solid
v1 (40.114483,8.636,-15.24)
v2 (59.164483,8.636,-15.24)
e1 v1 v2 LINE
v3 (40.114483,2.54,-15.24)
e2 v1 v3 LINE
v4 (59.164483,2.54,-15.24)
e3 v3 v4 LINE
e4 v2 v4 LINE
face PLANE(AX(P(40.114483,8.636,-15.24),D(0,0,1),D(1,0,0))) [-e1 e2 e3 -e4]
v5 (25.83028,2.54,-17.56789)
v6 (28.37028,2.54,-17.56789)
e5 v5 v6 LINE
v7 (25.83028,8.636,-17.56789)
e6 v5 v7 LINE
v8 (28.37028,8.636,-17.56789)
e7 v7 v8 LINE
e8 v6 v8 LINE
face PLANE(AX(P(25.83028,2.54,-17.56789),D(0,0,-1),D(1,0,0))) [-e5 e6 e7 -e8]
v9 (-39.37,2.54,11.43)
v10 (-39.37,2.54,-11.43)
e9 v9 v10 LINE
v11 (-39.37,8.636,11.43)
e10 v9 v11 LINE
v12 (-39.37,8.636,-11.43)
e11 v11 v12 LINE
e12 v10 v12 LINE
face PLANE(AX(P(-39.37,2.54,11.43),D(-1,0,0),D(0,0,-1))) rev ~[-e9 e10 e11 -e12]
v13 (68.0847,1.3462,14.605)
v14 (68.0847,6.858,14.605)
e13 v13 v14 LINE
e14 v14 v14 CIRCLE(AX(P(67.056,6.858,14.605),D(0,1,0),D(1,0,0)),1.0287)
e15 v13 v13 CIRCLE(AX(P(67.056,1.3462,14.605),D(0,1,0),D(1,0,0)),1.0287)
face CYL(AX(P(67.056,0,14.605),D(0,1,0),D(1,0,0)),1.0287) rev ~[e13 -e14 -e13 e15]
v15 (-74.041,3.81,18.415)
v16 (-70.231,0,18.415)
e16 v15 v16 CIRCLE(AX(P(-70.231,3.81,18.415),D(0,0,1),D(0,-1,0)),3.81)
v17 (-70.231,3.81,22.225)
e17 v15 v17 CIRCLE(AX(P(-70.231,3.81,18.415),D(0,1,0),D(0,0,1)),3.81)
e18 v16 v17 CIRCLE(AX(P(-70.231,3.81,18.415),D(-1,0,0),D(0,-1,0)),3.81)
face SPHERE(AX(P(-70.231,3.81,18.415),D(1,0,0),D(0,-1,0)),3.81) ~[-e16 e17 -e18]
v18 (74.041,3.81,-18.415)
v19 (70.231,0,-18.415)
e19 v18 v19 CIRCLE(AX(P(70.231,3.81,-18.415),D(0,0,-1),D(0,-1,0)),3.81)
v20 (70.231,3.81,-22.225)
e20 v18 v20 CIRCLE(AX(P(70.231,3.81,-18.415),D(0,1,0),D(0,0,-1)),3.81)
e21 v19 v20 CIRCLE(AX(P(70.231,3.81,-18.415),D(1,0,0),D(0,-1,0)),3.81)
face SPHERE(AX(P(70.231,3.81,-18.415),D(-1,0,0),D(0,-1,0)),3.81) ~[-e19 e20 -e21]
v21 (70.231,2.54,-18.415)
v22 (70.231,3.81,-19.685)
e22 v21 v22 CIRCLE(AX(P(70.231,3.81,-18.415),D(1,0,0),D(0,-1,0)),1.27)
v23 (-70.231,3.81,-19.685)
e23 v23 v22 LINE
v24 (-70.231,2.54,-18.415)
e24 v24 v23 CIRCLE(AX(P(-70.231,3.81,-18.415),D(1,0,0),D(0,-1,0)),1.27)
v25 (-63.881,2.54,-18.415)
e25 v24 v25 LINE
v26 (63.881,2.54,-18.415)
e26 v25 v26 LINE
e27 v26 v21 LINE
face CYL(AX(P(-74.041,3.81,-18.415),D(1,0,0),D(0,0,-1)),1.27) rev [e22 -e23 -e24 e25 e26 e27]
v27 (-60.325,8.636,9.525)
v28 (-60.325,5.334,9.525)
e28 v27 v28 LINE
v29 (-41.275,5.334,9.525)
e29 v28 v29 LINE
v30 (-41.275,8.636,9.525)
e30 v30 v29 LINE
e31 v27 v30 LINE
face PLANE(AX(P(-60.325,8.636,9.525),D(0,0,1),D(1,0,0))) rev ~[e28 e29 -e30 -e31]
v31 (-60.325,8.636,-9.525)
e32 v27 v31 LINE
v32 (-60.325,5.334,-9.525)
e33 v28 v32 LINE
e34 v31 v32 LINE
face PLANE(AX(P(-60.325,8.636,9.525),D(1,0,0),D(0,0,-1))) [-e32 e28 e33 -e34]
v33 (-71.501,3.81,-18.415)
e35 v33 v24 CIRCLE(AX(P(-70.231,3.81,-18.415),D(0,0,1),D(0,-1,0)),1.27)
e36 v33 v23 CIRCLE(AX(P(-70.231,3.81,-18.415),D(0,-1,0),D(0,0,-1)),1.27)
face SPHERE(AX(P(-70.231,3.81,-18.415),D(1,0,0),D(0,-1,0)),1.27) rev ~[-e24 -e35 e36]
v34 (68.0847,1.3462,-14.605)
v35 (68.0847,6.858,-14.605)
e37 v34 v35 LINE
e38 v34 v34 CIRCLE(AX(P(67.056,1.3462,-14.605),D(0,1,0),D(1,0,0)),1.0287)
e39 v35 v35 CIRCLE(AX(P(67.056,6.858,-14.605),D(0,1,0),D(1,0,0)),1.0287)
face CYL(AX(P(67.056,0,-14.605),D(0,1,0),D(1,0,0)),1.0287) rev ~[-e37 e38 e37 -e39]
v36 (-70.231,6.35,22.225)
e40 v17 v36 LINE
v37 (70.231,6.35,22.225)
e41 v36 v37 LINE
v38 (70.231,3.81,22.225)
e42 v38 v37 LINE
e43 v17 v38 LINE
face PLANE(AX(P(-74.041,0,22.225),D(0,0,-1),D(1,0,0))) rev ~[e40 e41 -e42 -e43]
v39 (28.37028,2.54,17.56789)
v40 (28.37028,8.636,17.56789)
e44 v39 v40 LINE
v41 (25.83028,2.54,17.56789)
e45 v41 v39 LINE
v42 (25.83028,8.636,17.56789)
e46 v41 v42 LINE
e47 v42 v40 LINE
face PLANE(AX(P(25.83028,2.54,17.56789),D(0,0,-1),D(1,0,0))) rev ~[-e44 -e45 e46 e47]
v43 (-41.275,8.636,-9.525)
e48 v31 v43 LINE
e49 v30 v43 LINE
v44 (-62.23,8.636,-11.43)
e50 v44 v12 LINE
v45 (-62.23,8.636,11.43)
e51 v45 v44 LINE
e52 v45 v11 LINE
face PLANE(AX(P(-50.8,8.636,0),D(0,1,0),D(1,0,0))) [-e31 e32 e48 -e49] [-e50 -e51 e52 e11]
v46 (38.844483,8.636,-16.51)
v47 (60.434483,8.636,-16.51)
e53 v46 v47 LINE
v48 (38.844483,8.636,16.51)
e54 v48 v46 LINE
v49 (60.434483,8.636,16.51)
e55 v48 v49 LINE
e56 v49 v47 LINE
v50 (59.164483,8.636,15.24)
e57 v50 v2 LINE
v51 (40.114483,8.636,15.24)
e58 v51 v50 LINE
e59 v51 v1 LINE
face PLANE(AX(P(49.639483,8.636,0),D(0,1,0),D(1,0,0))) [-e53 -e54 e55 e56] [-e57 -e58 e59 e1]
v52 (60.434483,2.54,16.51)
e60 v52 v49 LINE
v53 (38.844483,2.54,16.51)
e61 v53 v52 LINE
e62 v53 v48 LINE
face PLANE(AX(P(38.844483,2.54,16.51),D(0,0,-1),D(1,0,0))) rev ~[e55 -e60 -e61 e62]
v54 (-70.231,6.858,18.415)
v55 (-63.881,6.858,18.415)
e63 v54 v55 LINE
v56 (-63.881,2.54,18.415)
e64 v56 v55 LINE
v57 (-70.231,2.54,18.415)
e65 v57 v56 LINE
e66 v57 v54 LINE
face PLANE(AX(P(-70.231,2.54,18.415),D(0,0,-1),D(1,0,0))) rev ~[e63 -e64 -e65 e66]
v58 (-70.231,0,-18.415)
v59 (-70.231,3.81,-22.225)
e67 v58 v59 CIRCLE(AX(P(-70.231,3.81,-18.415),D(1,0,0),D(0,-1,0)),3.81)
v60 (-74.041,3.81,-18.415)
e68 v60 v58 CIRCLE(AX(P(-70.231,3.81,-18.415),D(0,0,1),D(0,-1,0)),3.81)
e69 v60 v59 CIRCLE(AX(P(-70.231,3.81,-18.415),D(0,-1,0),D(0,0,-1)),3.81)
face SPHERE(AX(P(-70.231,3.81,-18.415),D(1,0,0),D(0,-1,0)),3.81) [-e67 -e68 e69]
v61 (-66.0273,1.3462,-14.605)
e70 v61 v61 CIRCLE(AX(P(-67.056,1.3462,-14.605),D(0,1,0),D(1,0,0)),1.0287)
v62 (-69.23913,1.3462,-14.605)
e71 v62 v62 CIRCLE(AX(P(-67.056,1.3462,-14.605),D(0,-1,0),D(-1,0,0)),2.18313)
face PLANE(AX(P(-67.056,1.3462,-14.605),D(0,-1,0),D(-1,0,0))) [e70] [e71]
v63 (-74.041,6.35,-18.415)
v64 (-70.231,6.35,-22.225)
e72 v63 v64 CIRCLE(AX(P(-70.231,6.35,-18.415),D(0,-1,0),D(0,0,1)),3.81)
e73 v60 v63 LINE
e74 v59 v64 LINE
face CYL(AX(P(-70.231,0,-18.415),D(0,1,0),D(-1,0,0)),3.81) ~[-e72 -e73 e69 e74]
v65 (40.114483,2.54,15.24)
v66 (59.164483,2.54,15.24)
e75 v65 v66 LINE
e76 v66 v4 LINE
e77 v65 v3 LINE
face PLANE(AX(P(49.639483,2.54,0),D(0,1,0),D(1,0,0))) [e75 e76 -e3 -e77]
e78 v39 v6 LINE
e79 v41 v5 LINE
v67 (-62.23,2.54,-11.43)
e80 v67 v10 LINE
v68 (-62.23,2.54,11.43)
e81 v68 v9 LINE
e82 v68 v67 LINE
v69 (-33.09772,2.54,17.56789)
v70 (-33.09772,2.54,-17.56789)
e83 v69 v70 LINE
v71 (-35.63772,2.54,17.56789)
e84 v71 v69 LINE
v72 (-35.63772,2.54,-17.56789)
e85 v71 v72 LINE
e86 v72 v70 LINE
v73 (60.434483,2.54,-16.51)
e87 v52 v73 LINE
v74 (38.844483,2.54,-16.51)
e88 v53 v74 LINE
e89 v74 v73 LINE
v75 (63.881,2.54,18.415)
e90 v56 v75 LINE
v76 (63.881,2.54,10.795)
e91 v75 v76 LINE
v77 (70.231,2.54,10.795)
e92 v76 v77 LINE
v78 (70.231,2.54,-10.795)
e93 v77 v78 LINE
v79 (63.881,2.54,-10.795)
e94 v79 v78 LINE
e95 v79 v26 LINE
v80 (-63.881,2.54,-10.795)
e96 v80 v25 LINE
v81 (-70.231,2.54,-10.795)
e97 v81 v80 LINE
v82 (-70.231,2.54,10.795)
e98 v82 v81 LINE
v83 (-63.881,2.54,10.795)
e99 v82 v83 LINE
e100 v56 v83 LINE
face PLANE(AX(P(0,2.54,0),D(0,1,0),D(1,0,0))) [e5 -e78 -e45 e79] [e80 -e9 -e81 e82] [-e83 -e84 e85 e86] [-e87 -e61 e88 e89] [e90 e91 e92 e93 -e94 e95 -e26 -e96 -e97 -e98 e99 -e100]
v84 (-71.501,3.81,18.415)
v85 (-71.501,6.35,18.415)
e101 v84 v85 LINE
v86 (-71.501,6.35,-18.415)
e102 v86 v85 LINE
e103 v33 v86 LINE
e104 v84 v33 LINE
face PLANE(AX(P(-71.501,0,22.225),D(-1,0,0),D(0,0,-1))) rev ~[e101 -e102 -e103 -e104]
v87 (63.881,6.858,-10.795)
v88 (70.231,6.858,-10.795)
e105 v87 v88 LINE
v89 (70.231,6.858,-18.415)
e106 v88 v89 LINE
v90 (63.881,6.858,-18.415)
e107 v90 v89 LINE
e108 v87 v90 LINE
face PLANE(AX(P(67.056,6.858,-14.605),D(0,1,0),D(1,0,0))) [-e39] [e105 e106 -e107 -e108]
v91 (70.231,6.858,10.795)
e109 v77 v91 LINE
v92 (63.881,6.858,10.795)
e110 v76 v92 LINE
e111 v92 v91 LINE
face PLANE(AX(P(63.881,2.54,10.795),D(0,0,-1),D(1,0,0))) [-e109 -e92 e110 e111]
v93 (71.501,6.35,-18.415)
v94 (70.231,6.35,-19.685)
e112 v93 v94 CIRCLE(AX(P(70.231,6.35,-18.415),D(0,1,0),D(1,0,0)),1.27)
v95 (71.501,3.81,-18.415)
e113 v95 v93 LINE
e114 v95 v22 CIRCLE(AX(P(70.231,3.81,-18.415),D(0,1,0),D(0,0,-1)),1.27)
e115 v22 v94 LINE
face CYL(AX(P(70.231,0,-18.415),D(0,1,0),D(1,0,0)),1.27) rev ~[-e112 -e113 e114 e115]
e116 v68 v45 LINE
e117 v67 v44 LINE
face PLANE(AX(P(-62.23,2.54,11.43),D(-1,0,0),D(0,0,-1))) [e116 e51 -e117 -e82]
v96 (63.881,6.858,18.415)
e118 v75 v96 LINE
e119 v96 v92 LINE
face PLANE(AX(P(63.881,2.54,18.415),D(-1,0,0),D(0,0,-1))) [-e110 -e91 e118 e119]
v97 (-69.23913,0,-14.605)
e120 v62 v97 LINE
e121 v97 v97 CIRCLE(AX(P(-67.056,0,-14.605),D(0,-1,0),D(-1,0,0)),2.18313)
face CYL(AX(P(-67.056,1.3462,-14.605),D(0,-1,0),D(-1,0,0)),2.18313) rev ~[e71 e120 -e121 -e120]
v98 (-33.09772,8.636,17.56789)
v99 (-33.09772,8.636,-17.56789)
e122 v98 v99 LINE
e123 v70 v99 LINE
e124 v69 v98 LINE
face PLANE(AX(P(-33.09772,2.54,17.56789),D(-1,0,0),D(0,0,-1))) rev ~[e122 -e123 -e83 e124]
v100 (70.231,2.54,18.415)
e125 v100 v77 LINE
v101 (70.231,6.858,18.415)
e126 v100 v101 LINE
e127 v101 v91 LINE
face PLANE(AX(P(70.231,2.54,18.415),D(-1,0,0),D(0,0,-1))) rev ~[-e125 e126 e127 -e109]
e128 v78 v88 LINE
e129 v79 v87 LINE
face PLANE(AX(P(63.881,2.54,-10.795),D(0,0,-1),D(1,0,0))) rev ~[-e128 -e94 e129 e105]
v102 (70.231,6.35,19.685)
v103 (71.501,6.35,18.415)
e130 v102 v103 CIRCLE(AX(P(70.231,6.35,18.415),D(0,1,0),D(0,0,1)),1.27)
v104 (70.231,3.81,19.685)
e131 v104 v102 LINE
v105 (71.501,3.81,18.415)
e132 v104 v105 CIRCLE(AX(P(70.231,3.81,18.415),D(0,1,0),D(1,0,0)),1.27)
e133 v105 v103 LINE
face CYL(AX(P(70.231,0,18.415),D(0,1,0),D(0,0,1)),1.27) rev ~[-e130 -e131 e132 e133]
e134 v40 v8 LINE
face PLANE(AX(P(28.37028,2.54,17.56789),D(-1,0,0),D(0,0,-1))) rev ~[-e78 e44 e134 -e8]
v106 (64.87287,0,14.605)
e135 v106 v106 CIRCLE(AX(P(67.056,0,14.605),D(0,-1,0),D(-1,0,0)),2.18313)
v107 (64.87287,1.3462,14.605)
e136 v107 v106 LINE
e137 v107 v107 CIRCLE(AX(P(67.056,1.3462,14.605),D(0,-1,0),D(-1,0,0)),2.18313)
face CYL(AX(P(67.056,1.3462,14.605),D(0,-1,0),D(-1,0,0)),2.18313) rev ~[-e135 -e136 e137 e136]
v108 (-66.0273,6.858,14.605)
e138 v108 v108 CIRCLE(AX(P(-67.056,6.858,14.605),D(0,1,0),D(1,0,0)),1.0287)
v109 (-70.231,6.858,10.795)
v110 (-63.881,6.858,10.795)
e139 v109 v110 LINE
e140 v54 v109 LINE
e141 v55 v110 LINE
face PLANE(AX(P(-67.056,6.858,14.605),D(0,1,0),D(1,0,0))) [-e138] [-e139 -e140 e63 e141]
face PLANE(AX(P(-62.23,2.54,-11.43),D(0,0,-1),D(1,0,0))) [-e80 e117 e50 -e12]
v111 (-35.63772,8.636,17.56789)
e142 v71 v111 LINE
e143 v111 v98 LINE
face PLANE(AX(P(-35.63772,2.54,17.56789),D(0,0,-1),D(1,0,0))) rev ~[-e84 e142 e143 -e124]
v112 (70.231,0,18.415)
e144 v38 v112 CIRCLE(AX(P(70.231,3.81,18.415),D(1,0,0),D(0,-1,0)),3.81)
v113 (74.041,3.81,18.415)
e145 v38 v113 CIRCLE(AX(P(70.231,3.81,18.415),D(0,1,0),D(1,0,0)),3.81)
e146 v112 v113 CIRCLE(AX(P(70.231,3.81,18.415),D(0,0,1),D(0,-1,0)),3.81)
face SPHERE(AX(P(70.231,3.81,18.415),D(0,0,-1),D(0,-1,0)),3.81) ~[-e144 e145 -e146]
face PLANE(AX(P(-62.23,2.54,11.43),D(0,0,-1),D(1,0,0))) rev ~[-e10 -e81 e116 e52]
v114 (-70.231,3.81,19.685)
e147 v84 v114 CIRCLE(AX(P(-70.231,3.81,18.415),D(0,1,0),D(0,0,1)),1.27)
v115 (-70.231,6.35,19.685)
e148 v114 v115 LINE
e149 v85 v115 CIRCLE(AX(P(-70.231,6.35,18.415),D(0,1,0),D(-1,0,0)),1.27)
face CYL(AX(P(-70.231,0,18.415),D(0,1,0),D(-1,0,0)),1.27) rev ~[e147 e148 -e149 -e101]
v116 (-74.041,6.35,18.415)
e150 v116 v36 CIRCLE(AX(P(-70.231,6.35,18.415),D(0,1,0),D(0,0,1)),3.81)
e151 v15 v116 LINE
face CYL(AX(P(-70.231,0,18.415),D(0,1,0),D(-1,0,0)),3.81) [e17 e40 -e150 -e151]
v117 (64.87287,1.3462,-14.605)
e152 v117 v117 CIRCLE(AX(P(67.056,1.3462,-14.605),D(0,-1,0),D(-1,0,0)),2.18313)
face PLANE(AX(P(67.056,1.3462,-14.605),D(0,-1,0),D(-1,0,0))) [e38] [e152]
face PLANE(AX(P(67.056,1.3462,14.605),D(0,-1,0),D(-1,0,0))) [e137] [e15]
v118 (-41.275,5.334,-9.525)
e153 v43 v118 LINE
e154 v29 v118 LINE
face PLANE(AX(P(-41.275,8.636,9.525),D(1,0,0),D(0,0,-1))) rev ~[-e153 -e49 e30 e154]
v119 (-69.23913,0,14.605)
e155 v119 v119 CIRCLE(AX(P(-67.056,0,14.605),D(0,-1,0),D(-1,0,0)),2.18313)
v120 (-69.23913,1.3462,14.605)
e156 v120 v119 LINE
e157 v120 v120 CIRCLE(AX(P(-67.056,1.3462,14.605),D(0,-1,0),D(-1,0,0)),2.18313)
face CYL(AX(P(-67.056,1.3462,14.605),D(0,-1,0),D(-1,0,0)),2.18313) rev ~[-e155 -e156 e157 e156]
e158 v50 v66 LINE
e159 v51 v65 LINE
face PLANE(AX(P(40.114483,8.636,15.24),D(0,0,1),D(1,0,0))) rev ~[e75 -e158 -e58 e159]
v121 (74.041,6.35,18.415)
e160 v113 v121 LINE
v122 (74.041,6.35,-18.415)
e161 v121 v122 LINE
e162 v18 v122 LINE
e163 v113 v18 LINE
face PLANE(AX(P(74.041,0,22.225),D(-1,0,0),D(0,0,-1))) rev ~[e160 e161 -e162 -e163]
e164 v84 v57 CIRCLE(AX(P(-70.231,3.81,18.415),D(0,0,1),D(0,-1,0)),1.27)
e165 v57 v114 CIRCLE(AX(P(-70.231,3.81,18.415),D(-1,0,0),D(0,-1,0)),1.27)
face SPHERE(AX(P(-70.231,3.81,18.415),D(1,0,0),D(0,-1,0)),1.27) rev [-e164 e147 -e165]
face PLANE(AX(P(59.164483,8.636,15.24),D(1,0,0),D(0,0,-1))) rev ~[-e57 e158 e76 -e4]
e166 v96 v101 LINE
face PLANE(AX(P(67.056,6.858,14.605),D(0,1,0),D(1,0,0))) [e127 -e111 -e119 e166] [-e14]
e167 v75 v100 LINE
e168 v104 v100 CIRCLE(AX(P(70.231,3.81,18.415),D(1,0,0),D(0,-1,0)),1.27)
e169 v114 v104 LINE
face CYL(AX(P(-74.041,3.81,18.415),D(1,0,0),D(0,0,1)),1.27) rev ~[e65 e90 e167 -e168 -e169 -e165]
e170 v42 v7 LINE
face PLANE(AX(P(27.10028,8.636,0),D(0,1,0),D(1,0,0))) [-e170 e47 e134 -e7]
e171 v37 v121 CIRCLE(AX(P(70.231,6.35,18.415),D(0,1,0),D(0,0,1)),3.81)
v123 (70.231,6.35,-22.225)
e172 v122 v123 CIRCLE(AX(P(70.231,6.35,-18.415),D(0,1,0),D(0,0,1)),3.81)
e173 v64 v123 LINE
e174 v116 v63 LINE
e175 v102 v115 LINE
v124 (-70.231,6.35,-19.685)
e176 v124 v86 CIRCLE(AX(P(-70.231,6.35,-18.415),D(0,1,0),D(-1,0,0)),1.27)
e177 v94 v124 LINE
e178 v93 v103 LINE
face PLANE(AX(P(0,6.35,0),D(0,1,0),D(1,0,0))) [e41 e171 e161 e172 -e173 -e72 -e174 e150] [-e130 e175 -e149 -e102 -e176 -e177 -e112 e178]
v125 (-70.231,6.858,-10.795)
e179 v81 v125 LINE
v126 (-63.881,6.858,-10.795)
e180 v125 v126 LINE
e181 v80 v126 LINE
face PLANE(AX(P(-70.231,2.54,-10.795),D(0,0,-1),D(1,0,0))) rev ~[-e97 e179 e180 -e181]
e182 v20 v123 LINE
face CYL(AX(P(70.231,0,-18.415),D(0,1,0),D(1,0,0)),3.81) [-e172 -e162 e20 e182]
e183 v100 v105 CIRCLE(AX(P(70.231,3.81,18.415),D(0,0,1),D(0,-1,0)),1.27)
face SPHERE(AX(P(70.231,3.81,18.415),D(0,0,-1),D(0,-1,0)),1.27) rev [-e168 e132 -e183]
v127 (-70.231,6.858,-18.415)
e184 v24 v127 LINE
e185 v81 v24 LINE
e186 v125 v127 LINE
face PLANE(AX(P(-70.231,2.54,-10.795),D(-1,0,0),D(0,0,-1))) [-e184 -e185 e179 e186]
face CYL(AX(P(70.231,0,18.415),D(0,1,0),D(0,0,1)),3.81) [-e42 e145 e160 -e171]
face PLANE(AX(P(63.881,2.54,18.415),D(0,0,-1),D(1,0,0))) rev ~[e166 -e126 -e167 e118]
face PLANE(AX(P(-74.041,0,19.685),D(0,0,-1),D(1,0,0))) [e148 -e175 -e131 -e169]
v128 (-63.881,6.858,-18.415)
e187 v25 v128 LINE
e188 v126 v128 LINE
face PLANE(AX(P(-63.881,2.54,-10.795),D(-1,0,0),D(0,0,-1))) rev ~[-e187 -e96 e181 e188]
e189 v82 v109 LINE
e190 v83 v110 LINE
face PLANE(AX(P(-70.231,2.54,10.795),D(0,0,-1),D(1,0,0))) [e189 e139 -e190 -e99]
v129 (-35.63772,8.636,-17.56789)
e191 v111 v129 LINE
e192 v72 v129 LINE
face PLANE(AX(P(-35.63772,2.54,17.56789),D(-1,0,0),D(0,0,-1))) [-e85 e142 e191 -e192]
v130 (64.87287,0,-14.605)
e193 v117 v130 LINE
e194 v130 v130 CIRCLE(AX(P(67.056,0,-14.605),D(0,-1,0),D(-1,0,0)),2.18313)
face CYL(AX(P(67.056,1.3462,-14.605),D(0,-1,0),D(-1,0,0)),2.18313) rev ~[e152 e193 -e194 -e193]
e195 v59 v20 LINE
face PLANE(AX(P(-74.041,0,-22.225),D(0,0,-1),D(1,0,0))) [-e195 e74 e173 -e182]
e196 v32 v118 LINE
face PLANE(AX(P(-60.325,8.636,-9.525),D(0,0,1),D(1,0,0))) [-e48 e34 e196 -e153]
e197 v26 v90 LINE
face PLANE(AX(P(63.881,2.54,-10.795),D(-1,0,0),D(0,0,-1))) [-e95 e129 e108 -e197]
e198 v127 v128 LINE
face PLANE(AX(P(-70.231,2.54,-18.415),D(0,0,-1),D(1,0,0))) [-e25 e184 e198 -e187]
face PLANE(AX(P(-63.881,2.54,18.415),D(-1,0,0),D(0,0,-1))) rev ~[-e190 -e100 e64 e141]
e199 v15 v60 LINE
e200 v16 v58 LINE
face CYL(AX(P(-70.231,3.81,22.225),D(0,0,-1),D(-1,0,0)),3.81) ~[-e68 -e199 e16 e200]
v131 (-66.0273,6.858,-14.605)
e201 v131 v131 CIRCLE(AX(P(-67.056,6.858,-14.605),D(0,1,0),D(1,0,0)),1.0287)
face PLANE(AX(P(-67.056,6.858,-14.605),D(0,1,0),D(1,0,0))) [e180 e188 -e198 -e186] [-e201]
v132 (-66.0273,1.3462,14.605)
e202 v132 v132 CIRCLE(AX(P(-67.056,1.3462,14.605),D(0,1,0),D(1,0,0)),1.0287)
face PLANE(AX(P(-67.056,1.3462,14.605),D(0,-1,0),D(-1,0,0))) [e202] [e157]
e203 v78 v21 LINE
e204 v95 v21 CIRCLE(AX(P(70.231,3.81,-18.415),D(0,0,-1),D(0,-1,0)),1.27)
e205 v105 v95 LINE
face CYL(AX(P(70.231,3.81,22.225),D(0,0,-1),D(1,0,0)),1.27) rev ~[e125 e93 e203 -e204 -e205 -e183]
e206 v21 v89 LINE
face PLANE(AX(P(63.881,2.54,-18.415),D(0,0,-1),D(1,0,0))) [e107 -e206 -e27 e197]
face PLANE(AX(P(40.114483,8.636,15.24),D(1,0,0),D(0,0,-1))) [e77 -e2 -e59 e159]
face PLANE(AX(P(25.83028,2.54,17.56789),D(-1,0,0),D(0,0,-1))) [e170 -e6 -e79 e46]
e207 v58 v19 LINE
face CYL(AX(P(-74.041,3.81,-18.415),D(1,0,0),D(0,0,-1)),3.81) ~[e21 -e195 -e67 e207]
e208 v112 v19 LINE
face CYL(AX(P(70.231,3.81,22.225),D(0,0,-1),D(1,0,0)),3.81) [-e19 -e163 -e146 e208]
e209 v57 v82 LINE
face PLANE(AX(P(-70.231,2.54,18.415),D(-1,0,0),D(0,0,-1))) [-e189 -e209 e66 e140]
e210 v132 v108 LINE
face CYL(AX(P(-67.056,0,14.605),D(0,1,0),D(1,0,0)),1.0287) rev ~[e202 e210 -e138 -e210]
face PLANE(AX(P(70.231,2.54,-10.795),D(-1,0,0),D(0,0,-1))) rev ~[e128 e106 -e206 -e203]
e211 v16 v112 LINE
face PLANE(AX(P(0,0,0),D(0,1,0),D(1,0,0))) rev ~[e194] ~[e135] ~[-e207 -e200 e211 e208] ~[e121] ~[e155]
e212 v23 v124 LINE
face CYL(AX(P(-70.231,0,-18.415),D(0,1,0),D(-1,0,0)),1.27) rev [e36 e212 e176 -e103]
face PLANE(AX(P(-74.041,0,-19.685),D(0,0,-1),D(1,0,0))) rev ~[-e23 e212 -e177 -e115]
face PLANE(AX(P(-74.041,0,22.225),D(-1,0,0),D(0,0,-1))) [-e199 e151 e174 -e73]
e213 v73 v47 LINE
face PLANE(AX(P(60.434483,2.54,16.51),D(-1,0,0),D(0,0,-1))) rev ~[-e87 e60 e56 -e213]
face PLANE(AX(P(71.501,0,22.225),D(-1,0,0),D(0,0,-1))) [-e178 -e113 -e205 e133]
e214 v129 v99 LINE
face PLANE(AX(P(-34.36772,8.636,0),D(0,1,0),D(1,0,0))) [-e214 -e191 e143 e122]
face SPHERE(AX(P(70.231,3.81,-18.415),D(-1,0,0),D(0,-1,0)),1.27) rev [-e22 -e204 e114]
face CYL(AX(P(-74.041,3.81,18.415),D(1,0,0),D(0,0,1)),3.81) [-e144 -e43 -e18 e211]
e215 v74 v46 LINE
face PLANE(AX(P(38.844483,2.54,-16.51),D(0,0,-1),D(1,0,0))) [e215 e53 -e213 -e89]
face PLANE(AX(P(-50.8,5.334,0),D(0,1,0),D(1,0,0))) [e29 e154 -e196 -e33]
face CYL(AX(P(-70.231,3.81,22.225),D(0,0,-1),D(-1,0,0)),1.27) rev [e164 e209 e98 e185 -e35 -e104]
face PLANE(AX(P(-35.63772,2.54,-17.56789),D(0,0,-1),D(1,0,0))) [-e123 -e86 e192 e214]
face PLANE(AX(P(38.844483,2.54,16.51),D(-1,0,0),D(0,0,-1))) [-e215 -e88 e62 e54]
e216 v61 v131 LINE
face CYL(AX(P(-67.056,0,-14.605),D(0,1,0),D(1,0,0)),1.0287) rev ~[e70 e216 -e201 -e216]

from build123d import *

# Parameters (mm, degrees)
SKETCH1_W                                       = 148.082
SKETCH1_H                                       = 44.45
BOSS_EXTRUDE1_DEPTH                             = 6.35
FILLET1_R                                       = 3.81
SHELL1_T                                        = -2.54
SKETCH3_W                                       = 6.35
SKETCH3_H                                       = 7.62
BOSS_EXTRUDE2_DEPTH                             = 4.318
SKETCH5_W                                       = 22.86
SKETCH5_H                                       = 22.86
BOSS_EXTRUDE3_DEPTH                             = 6.096
SKETCH7_W                                       = 19.05
SKETCH7_H                                       = 19.05
CUT_EXTRUDE1_DEPTH                              = 3.302
SKETCH8_W                                       = 21.59
SKETCH8_H                                       = 33.02
BOSS_EXTRUDE4_DEPTH                             = 6.096
SKETCH9_W                                       = 2.54
SKETCH9_H                                       = 35.135780098
BOSS_EXTRUDE5_DEPTH                             = 6.096
SKETCH12_W                                      = 19.05
SKETCH12_H                                      = 30.48
CUT_EXTRUDE2_DEPTH                              = 6.096
CBORE_FOR_1_PAN_HEAD_MACHINE_SCREW3_D           = 2.0574
CBORE_FOR_1_PAN_HEAD_MACHINE_SCREW3_CBORE_D     = 4.36626
CBORE_FOR_1_PAN_HEAD_MACHINE_SCREW3_CBORE_DEPTH = 1.3462


with BuildPart() as part:
    # Sketch1 → Boss-Extrude1 (new body)
    with BuildSketch(Plane(origin=(0, 0, 0), x_dir=(1, 0, 0), z_dir=(0, 1, 0))):
        Rectangle(SKETCH1_W, SKETCH1_H)
    extrude(amount=BOSS_EXTRUDE1_DEPTH)

    # Fillet1
    fillet1_edges = [part.edges().sort_by_distance(p)[0] for p in [
        (0, 0, -22.225),
        (74.041, 0, 0),
        (0, 0, 22.225),
        (-74.041, 0, 0),
        (-74.041, 3.175, -22.225),
        (74.041, 3.175, -22.225),
        (74.041, 3.175, 22.225),
        (-74.041, 3.175, 22.225),
    ]]
    fillet(fillet1_edges, radius=FILLET1_R)

    # Shell1
    shell1_openings = [part.faces().sort_by_distance(p)[0] for p in [
        (0, 6.35, 0),
    ]]
    offset(amount=SHELL1_T, openings=shell1_openings, kind=Kind.INTERSECTION)

    # Sketch3 → Boss-Extrude2 (add)
    with BuildSketch(Plane(origin=(0, 2.54, 0), x_dir=(1, 0, 0), z_dir=(0, 1, 0))):
        with Locations((-67.056, 14.605)):
            Rectangle(SKETCH3_W, SKETCH3_H)
        with Locations((67.056, 14.605)):
            Rectangle(SKETCH3_W, SKETCH3_H)
        with Locations((-67.056, -14.605)):
            Rectangle(SKETCH3_W, SKETCH3_H)
        with Locations((67.056, -14.605)):
            Rectangle(SKETCH3_W, SKETCH3_H)
    extrude(amount=BOSS_EXTRUDE2_DEPTH)

    # Sketch5 → Boss-Extrude3 (add)
    with BuildSketch(Plane(origin=(0, 2.54, 0), x_dir=(1, 0, 0), z_dir=(0, 1, 0))):
        with Locations((-50.8, 0)):
            Rectangle(SKETCH5_W, SKETCH5_H)
    extrude(amount=BOSS_EXTRUDE3_DEPTH)

    # Sketch7 → Cut-Extrude1 (cut)
    with BuildSketch(Plane(origin=(0, 8.636, 0), x_dir=(1, 0, 0), z_dir=(0, 1, 0))):
        with Locations((-50.8, 0)):
            Rectangle(SKETCH7_W, SKETCH7_H)
    extrude(amount=-CUT_EXTRUDE1_DEPTH, mode=Mode.SUBTRACT)

    # Sketch8 → Boss-Extrude4 (add)
    with BuildSketch(Plane(origin=(0, 2.54, 0), x_dir=(1, 0, 0), z_dir=(0, 1, 0))):
        with Locations((49.639483249, 0)):
            Rectangle(SKETCH8_W, SKETCH8_H)
    extrude(amount=BOSS_EXTRUDE4_DEPTH)

    # Sketch9 → Boss-Extrude5 (add)
    with BuildSketch(Plane(origin=(0, 2.54, 0), x_dir=(1, 0, 0), z_dir=(0, 1, 0))):
        with Locations((-34.367719814, 0)):
            Rectangle(SKETCH9_W, SKETCH9_H)
        with Locations((27.100280186, 0)):
            Rectangle(SKETCH9_W, SKETCH9_H)
    extrude(amount=BOSS_EXTRUDE5_DEPTH)

    # Sketch12 → Cut-Extrude2 (cut)
    with BuildSketch(Plane(origin=(0, 8.636, 0), x_dir=(1, 0, 0), z_dir=(0, 1, 0))):
        with Locations((49.639483249, 0)):
            Rectangle(SKETCH12_W, SKETCH12_H)
    extrude(amount=-CUT_EXTRUDE2_DEPTH, mode=Mode.SUBTRACT)

    # CBORE for #1 Pan Head Machine Screw3 (through all)
    with Locations(Plane(origin=(0, 0, 0), x_dir=(-1, 0, 0), z_dir=(0, -1, 0))):
        with Locations((-67.056, 14.605), (-67.056, -14.605), (67.056, -14.605), (67.056, 14.605)):
            CounterBoreHole(CBORE_FOR_1_PAN_HEAD_MACHINE_SCREW3_D / 2, CBORE_FOR_1_PAN_HEAD_MACHINE_SCREW3_CBORE_D / 2, CBORE_FOR_1_PAN_HEAD_MACHINE_SCREW3_CBORE_DEPTH)


solid = part.part
